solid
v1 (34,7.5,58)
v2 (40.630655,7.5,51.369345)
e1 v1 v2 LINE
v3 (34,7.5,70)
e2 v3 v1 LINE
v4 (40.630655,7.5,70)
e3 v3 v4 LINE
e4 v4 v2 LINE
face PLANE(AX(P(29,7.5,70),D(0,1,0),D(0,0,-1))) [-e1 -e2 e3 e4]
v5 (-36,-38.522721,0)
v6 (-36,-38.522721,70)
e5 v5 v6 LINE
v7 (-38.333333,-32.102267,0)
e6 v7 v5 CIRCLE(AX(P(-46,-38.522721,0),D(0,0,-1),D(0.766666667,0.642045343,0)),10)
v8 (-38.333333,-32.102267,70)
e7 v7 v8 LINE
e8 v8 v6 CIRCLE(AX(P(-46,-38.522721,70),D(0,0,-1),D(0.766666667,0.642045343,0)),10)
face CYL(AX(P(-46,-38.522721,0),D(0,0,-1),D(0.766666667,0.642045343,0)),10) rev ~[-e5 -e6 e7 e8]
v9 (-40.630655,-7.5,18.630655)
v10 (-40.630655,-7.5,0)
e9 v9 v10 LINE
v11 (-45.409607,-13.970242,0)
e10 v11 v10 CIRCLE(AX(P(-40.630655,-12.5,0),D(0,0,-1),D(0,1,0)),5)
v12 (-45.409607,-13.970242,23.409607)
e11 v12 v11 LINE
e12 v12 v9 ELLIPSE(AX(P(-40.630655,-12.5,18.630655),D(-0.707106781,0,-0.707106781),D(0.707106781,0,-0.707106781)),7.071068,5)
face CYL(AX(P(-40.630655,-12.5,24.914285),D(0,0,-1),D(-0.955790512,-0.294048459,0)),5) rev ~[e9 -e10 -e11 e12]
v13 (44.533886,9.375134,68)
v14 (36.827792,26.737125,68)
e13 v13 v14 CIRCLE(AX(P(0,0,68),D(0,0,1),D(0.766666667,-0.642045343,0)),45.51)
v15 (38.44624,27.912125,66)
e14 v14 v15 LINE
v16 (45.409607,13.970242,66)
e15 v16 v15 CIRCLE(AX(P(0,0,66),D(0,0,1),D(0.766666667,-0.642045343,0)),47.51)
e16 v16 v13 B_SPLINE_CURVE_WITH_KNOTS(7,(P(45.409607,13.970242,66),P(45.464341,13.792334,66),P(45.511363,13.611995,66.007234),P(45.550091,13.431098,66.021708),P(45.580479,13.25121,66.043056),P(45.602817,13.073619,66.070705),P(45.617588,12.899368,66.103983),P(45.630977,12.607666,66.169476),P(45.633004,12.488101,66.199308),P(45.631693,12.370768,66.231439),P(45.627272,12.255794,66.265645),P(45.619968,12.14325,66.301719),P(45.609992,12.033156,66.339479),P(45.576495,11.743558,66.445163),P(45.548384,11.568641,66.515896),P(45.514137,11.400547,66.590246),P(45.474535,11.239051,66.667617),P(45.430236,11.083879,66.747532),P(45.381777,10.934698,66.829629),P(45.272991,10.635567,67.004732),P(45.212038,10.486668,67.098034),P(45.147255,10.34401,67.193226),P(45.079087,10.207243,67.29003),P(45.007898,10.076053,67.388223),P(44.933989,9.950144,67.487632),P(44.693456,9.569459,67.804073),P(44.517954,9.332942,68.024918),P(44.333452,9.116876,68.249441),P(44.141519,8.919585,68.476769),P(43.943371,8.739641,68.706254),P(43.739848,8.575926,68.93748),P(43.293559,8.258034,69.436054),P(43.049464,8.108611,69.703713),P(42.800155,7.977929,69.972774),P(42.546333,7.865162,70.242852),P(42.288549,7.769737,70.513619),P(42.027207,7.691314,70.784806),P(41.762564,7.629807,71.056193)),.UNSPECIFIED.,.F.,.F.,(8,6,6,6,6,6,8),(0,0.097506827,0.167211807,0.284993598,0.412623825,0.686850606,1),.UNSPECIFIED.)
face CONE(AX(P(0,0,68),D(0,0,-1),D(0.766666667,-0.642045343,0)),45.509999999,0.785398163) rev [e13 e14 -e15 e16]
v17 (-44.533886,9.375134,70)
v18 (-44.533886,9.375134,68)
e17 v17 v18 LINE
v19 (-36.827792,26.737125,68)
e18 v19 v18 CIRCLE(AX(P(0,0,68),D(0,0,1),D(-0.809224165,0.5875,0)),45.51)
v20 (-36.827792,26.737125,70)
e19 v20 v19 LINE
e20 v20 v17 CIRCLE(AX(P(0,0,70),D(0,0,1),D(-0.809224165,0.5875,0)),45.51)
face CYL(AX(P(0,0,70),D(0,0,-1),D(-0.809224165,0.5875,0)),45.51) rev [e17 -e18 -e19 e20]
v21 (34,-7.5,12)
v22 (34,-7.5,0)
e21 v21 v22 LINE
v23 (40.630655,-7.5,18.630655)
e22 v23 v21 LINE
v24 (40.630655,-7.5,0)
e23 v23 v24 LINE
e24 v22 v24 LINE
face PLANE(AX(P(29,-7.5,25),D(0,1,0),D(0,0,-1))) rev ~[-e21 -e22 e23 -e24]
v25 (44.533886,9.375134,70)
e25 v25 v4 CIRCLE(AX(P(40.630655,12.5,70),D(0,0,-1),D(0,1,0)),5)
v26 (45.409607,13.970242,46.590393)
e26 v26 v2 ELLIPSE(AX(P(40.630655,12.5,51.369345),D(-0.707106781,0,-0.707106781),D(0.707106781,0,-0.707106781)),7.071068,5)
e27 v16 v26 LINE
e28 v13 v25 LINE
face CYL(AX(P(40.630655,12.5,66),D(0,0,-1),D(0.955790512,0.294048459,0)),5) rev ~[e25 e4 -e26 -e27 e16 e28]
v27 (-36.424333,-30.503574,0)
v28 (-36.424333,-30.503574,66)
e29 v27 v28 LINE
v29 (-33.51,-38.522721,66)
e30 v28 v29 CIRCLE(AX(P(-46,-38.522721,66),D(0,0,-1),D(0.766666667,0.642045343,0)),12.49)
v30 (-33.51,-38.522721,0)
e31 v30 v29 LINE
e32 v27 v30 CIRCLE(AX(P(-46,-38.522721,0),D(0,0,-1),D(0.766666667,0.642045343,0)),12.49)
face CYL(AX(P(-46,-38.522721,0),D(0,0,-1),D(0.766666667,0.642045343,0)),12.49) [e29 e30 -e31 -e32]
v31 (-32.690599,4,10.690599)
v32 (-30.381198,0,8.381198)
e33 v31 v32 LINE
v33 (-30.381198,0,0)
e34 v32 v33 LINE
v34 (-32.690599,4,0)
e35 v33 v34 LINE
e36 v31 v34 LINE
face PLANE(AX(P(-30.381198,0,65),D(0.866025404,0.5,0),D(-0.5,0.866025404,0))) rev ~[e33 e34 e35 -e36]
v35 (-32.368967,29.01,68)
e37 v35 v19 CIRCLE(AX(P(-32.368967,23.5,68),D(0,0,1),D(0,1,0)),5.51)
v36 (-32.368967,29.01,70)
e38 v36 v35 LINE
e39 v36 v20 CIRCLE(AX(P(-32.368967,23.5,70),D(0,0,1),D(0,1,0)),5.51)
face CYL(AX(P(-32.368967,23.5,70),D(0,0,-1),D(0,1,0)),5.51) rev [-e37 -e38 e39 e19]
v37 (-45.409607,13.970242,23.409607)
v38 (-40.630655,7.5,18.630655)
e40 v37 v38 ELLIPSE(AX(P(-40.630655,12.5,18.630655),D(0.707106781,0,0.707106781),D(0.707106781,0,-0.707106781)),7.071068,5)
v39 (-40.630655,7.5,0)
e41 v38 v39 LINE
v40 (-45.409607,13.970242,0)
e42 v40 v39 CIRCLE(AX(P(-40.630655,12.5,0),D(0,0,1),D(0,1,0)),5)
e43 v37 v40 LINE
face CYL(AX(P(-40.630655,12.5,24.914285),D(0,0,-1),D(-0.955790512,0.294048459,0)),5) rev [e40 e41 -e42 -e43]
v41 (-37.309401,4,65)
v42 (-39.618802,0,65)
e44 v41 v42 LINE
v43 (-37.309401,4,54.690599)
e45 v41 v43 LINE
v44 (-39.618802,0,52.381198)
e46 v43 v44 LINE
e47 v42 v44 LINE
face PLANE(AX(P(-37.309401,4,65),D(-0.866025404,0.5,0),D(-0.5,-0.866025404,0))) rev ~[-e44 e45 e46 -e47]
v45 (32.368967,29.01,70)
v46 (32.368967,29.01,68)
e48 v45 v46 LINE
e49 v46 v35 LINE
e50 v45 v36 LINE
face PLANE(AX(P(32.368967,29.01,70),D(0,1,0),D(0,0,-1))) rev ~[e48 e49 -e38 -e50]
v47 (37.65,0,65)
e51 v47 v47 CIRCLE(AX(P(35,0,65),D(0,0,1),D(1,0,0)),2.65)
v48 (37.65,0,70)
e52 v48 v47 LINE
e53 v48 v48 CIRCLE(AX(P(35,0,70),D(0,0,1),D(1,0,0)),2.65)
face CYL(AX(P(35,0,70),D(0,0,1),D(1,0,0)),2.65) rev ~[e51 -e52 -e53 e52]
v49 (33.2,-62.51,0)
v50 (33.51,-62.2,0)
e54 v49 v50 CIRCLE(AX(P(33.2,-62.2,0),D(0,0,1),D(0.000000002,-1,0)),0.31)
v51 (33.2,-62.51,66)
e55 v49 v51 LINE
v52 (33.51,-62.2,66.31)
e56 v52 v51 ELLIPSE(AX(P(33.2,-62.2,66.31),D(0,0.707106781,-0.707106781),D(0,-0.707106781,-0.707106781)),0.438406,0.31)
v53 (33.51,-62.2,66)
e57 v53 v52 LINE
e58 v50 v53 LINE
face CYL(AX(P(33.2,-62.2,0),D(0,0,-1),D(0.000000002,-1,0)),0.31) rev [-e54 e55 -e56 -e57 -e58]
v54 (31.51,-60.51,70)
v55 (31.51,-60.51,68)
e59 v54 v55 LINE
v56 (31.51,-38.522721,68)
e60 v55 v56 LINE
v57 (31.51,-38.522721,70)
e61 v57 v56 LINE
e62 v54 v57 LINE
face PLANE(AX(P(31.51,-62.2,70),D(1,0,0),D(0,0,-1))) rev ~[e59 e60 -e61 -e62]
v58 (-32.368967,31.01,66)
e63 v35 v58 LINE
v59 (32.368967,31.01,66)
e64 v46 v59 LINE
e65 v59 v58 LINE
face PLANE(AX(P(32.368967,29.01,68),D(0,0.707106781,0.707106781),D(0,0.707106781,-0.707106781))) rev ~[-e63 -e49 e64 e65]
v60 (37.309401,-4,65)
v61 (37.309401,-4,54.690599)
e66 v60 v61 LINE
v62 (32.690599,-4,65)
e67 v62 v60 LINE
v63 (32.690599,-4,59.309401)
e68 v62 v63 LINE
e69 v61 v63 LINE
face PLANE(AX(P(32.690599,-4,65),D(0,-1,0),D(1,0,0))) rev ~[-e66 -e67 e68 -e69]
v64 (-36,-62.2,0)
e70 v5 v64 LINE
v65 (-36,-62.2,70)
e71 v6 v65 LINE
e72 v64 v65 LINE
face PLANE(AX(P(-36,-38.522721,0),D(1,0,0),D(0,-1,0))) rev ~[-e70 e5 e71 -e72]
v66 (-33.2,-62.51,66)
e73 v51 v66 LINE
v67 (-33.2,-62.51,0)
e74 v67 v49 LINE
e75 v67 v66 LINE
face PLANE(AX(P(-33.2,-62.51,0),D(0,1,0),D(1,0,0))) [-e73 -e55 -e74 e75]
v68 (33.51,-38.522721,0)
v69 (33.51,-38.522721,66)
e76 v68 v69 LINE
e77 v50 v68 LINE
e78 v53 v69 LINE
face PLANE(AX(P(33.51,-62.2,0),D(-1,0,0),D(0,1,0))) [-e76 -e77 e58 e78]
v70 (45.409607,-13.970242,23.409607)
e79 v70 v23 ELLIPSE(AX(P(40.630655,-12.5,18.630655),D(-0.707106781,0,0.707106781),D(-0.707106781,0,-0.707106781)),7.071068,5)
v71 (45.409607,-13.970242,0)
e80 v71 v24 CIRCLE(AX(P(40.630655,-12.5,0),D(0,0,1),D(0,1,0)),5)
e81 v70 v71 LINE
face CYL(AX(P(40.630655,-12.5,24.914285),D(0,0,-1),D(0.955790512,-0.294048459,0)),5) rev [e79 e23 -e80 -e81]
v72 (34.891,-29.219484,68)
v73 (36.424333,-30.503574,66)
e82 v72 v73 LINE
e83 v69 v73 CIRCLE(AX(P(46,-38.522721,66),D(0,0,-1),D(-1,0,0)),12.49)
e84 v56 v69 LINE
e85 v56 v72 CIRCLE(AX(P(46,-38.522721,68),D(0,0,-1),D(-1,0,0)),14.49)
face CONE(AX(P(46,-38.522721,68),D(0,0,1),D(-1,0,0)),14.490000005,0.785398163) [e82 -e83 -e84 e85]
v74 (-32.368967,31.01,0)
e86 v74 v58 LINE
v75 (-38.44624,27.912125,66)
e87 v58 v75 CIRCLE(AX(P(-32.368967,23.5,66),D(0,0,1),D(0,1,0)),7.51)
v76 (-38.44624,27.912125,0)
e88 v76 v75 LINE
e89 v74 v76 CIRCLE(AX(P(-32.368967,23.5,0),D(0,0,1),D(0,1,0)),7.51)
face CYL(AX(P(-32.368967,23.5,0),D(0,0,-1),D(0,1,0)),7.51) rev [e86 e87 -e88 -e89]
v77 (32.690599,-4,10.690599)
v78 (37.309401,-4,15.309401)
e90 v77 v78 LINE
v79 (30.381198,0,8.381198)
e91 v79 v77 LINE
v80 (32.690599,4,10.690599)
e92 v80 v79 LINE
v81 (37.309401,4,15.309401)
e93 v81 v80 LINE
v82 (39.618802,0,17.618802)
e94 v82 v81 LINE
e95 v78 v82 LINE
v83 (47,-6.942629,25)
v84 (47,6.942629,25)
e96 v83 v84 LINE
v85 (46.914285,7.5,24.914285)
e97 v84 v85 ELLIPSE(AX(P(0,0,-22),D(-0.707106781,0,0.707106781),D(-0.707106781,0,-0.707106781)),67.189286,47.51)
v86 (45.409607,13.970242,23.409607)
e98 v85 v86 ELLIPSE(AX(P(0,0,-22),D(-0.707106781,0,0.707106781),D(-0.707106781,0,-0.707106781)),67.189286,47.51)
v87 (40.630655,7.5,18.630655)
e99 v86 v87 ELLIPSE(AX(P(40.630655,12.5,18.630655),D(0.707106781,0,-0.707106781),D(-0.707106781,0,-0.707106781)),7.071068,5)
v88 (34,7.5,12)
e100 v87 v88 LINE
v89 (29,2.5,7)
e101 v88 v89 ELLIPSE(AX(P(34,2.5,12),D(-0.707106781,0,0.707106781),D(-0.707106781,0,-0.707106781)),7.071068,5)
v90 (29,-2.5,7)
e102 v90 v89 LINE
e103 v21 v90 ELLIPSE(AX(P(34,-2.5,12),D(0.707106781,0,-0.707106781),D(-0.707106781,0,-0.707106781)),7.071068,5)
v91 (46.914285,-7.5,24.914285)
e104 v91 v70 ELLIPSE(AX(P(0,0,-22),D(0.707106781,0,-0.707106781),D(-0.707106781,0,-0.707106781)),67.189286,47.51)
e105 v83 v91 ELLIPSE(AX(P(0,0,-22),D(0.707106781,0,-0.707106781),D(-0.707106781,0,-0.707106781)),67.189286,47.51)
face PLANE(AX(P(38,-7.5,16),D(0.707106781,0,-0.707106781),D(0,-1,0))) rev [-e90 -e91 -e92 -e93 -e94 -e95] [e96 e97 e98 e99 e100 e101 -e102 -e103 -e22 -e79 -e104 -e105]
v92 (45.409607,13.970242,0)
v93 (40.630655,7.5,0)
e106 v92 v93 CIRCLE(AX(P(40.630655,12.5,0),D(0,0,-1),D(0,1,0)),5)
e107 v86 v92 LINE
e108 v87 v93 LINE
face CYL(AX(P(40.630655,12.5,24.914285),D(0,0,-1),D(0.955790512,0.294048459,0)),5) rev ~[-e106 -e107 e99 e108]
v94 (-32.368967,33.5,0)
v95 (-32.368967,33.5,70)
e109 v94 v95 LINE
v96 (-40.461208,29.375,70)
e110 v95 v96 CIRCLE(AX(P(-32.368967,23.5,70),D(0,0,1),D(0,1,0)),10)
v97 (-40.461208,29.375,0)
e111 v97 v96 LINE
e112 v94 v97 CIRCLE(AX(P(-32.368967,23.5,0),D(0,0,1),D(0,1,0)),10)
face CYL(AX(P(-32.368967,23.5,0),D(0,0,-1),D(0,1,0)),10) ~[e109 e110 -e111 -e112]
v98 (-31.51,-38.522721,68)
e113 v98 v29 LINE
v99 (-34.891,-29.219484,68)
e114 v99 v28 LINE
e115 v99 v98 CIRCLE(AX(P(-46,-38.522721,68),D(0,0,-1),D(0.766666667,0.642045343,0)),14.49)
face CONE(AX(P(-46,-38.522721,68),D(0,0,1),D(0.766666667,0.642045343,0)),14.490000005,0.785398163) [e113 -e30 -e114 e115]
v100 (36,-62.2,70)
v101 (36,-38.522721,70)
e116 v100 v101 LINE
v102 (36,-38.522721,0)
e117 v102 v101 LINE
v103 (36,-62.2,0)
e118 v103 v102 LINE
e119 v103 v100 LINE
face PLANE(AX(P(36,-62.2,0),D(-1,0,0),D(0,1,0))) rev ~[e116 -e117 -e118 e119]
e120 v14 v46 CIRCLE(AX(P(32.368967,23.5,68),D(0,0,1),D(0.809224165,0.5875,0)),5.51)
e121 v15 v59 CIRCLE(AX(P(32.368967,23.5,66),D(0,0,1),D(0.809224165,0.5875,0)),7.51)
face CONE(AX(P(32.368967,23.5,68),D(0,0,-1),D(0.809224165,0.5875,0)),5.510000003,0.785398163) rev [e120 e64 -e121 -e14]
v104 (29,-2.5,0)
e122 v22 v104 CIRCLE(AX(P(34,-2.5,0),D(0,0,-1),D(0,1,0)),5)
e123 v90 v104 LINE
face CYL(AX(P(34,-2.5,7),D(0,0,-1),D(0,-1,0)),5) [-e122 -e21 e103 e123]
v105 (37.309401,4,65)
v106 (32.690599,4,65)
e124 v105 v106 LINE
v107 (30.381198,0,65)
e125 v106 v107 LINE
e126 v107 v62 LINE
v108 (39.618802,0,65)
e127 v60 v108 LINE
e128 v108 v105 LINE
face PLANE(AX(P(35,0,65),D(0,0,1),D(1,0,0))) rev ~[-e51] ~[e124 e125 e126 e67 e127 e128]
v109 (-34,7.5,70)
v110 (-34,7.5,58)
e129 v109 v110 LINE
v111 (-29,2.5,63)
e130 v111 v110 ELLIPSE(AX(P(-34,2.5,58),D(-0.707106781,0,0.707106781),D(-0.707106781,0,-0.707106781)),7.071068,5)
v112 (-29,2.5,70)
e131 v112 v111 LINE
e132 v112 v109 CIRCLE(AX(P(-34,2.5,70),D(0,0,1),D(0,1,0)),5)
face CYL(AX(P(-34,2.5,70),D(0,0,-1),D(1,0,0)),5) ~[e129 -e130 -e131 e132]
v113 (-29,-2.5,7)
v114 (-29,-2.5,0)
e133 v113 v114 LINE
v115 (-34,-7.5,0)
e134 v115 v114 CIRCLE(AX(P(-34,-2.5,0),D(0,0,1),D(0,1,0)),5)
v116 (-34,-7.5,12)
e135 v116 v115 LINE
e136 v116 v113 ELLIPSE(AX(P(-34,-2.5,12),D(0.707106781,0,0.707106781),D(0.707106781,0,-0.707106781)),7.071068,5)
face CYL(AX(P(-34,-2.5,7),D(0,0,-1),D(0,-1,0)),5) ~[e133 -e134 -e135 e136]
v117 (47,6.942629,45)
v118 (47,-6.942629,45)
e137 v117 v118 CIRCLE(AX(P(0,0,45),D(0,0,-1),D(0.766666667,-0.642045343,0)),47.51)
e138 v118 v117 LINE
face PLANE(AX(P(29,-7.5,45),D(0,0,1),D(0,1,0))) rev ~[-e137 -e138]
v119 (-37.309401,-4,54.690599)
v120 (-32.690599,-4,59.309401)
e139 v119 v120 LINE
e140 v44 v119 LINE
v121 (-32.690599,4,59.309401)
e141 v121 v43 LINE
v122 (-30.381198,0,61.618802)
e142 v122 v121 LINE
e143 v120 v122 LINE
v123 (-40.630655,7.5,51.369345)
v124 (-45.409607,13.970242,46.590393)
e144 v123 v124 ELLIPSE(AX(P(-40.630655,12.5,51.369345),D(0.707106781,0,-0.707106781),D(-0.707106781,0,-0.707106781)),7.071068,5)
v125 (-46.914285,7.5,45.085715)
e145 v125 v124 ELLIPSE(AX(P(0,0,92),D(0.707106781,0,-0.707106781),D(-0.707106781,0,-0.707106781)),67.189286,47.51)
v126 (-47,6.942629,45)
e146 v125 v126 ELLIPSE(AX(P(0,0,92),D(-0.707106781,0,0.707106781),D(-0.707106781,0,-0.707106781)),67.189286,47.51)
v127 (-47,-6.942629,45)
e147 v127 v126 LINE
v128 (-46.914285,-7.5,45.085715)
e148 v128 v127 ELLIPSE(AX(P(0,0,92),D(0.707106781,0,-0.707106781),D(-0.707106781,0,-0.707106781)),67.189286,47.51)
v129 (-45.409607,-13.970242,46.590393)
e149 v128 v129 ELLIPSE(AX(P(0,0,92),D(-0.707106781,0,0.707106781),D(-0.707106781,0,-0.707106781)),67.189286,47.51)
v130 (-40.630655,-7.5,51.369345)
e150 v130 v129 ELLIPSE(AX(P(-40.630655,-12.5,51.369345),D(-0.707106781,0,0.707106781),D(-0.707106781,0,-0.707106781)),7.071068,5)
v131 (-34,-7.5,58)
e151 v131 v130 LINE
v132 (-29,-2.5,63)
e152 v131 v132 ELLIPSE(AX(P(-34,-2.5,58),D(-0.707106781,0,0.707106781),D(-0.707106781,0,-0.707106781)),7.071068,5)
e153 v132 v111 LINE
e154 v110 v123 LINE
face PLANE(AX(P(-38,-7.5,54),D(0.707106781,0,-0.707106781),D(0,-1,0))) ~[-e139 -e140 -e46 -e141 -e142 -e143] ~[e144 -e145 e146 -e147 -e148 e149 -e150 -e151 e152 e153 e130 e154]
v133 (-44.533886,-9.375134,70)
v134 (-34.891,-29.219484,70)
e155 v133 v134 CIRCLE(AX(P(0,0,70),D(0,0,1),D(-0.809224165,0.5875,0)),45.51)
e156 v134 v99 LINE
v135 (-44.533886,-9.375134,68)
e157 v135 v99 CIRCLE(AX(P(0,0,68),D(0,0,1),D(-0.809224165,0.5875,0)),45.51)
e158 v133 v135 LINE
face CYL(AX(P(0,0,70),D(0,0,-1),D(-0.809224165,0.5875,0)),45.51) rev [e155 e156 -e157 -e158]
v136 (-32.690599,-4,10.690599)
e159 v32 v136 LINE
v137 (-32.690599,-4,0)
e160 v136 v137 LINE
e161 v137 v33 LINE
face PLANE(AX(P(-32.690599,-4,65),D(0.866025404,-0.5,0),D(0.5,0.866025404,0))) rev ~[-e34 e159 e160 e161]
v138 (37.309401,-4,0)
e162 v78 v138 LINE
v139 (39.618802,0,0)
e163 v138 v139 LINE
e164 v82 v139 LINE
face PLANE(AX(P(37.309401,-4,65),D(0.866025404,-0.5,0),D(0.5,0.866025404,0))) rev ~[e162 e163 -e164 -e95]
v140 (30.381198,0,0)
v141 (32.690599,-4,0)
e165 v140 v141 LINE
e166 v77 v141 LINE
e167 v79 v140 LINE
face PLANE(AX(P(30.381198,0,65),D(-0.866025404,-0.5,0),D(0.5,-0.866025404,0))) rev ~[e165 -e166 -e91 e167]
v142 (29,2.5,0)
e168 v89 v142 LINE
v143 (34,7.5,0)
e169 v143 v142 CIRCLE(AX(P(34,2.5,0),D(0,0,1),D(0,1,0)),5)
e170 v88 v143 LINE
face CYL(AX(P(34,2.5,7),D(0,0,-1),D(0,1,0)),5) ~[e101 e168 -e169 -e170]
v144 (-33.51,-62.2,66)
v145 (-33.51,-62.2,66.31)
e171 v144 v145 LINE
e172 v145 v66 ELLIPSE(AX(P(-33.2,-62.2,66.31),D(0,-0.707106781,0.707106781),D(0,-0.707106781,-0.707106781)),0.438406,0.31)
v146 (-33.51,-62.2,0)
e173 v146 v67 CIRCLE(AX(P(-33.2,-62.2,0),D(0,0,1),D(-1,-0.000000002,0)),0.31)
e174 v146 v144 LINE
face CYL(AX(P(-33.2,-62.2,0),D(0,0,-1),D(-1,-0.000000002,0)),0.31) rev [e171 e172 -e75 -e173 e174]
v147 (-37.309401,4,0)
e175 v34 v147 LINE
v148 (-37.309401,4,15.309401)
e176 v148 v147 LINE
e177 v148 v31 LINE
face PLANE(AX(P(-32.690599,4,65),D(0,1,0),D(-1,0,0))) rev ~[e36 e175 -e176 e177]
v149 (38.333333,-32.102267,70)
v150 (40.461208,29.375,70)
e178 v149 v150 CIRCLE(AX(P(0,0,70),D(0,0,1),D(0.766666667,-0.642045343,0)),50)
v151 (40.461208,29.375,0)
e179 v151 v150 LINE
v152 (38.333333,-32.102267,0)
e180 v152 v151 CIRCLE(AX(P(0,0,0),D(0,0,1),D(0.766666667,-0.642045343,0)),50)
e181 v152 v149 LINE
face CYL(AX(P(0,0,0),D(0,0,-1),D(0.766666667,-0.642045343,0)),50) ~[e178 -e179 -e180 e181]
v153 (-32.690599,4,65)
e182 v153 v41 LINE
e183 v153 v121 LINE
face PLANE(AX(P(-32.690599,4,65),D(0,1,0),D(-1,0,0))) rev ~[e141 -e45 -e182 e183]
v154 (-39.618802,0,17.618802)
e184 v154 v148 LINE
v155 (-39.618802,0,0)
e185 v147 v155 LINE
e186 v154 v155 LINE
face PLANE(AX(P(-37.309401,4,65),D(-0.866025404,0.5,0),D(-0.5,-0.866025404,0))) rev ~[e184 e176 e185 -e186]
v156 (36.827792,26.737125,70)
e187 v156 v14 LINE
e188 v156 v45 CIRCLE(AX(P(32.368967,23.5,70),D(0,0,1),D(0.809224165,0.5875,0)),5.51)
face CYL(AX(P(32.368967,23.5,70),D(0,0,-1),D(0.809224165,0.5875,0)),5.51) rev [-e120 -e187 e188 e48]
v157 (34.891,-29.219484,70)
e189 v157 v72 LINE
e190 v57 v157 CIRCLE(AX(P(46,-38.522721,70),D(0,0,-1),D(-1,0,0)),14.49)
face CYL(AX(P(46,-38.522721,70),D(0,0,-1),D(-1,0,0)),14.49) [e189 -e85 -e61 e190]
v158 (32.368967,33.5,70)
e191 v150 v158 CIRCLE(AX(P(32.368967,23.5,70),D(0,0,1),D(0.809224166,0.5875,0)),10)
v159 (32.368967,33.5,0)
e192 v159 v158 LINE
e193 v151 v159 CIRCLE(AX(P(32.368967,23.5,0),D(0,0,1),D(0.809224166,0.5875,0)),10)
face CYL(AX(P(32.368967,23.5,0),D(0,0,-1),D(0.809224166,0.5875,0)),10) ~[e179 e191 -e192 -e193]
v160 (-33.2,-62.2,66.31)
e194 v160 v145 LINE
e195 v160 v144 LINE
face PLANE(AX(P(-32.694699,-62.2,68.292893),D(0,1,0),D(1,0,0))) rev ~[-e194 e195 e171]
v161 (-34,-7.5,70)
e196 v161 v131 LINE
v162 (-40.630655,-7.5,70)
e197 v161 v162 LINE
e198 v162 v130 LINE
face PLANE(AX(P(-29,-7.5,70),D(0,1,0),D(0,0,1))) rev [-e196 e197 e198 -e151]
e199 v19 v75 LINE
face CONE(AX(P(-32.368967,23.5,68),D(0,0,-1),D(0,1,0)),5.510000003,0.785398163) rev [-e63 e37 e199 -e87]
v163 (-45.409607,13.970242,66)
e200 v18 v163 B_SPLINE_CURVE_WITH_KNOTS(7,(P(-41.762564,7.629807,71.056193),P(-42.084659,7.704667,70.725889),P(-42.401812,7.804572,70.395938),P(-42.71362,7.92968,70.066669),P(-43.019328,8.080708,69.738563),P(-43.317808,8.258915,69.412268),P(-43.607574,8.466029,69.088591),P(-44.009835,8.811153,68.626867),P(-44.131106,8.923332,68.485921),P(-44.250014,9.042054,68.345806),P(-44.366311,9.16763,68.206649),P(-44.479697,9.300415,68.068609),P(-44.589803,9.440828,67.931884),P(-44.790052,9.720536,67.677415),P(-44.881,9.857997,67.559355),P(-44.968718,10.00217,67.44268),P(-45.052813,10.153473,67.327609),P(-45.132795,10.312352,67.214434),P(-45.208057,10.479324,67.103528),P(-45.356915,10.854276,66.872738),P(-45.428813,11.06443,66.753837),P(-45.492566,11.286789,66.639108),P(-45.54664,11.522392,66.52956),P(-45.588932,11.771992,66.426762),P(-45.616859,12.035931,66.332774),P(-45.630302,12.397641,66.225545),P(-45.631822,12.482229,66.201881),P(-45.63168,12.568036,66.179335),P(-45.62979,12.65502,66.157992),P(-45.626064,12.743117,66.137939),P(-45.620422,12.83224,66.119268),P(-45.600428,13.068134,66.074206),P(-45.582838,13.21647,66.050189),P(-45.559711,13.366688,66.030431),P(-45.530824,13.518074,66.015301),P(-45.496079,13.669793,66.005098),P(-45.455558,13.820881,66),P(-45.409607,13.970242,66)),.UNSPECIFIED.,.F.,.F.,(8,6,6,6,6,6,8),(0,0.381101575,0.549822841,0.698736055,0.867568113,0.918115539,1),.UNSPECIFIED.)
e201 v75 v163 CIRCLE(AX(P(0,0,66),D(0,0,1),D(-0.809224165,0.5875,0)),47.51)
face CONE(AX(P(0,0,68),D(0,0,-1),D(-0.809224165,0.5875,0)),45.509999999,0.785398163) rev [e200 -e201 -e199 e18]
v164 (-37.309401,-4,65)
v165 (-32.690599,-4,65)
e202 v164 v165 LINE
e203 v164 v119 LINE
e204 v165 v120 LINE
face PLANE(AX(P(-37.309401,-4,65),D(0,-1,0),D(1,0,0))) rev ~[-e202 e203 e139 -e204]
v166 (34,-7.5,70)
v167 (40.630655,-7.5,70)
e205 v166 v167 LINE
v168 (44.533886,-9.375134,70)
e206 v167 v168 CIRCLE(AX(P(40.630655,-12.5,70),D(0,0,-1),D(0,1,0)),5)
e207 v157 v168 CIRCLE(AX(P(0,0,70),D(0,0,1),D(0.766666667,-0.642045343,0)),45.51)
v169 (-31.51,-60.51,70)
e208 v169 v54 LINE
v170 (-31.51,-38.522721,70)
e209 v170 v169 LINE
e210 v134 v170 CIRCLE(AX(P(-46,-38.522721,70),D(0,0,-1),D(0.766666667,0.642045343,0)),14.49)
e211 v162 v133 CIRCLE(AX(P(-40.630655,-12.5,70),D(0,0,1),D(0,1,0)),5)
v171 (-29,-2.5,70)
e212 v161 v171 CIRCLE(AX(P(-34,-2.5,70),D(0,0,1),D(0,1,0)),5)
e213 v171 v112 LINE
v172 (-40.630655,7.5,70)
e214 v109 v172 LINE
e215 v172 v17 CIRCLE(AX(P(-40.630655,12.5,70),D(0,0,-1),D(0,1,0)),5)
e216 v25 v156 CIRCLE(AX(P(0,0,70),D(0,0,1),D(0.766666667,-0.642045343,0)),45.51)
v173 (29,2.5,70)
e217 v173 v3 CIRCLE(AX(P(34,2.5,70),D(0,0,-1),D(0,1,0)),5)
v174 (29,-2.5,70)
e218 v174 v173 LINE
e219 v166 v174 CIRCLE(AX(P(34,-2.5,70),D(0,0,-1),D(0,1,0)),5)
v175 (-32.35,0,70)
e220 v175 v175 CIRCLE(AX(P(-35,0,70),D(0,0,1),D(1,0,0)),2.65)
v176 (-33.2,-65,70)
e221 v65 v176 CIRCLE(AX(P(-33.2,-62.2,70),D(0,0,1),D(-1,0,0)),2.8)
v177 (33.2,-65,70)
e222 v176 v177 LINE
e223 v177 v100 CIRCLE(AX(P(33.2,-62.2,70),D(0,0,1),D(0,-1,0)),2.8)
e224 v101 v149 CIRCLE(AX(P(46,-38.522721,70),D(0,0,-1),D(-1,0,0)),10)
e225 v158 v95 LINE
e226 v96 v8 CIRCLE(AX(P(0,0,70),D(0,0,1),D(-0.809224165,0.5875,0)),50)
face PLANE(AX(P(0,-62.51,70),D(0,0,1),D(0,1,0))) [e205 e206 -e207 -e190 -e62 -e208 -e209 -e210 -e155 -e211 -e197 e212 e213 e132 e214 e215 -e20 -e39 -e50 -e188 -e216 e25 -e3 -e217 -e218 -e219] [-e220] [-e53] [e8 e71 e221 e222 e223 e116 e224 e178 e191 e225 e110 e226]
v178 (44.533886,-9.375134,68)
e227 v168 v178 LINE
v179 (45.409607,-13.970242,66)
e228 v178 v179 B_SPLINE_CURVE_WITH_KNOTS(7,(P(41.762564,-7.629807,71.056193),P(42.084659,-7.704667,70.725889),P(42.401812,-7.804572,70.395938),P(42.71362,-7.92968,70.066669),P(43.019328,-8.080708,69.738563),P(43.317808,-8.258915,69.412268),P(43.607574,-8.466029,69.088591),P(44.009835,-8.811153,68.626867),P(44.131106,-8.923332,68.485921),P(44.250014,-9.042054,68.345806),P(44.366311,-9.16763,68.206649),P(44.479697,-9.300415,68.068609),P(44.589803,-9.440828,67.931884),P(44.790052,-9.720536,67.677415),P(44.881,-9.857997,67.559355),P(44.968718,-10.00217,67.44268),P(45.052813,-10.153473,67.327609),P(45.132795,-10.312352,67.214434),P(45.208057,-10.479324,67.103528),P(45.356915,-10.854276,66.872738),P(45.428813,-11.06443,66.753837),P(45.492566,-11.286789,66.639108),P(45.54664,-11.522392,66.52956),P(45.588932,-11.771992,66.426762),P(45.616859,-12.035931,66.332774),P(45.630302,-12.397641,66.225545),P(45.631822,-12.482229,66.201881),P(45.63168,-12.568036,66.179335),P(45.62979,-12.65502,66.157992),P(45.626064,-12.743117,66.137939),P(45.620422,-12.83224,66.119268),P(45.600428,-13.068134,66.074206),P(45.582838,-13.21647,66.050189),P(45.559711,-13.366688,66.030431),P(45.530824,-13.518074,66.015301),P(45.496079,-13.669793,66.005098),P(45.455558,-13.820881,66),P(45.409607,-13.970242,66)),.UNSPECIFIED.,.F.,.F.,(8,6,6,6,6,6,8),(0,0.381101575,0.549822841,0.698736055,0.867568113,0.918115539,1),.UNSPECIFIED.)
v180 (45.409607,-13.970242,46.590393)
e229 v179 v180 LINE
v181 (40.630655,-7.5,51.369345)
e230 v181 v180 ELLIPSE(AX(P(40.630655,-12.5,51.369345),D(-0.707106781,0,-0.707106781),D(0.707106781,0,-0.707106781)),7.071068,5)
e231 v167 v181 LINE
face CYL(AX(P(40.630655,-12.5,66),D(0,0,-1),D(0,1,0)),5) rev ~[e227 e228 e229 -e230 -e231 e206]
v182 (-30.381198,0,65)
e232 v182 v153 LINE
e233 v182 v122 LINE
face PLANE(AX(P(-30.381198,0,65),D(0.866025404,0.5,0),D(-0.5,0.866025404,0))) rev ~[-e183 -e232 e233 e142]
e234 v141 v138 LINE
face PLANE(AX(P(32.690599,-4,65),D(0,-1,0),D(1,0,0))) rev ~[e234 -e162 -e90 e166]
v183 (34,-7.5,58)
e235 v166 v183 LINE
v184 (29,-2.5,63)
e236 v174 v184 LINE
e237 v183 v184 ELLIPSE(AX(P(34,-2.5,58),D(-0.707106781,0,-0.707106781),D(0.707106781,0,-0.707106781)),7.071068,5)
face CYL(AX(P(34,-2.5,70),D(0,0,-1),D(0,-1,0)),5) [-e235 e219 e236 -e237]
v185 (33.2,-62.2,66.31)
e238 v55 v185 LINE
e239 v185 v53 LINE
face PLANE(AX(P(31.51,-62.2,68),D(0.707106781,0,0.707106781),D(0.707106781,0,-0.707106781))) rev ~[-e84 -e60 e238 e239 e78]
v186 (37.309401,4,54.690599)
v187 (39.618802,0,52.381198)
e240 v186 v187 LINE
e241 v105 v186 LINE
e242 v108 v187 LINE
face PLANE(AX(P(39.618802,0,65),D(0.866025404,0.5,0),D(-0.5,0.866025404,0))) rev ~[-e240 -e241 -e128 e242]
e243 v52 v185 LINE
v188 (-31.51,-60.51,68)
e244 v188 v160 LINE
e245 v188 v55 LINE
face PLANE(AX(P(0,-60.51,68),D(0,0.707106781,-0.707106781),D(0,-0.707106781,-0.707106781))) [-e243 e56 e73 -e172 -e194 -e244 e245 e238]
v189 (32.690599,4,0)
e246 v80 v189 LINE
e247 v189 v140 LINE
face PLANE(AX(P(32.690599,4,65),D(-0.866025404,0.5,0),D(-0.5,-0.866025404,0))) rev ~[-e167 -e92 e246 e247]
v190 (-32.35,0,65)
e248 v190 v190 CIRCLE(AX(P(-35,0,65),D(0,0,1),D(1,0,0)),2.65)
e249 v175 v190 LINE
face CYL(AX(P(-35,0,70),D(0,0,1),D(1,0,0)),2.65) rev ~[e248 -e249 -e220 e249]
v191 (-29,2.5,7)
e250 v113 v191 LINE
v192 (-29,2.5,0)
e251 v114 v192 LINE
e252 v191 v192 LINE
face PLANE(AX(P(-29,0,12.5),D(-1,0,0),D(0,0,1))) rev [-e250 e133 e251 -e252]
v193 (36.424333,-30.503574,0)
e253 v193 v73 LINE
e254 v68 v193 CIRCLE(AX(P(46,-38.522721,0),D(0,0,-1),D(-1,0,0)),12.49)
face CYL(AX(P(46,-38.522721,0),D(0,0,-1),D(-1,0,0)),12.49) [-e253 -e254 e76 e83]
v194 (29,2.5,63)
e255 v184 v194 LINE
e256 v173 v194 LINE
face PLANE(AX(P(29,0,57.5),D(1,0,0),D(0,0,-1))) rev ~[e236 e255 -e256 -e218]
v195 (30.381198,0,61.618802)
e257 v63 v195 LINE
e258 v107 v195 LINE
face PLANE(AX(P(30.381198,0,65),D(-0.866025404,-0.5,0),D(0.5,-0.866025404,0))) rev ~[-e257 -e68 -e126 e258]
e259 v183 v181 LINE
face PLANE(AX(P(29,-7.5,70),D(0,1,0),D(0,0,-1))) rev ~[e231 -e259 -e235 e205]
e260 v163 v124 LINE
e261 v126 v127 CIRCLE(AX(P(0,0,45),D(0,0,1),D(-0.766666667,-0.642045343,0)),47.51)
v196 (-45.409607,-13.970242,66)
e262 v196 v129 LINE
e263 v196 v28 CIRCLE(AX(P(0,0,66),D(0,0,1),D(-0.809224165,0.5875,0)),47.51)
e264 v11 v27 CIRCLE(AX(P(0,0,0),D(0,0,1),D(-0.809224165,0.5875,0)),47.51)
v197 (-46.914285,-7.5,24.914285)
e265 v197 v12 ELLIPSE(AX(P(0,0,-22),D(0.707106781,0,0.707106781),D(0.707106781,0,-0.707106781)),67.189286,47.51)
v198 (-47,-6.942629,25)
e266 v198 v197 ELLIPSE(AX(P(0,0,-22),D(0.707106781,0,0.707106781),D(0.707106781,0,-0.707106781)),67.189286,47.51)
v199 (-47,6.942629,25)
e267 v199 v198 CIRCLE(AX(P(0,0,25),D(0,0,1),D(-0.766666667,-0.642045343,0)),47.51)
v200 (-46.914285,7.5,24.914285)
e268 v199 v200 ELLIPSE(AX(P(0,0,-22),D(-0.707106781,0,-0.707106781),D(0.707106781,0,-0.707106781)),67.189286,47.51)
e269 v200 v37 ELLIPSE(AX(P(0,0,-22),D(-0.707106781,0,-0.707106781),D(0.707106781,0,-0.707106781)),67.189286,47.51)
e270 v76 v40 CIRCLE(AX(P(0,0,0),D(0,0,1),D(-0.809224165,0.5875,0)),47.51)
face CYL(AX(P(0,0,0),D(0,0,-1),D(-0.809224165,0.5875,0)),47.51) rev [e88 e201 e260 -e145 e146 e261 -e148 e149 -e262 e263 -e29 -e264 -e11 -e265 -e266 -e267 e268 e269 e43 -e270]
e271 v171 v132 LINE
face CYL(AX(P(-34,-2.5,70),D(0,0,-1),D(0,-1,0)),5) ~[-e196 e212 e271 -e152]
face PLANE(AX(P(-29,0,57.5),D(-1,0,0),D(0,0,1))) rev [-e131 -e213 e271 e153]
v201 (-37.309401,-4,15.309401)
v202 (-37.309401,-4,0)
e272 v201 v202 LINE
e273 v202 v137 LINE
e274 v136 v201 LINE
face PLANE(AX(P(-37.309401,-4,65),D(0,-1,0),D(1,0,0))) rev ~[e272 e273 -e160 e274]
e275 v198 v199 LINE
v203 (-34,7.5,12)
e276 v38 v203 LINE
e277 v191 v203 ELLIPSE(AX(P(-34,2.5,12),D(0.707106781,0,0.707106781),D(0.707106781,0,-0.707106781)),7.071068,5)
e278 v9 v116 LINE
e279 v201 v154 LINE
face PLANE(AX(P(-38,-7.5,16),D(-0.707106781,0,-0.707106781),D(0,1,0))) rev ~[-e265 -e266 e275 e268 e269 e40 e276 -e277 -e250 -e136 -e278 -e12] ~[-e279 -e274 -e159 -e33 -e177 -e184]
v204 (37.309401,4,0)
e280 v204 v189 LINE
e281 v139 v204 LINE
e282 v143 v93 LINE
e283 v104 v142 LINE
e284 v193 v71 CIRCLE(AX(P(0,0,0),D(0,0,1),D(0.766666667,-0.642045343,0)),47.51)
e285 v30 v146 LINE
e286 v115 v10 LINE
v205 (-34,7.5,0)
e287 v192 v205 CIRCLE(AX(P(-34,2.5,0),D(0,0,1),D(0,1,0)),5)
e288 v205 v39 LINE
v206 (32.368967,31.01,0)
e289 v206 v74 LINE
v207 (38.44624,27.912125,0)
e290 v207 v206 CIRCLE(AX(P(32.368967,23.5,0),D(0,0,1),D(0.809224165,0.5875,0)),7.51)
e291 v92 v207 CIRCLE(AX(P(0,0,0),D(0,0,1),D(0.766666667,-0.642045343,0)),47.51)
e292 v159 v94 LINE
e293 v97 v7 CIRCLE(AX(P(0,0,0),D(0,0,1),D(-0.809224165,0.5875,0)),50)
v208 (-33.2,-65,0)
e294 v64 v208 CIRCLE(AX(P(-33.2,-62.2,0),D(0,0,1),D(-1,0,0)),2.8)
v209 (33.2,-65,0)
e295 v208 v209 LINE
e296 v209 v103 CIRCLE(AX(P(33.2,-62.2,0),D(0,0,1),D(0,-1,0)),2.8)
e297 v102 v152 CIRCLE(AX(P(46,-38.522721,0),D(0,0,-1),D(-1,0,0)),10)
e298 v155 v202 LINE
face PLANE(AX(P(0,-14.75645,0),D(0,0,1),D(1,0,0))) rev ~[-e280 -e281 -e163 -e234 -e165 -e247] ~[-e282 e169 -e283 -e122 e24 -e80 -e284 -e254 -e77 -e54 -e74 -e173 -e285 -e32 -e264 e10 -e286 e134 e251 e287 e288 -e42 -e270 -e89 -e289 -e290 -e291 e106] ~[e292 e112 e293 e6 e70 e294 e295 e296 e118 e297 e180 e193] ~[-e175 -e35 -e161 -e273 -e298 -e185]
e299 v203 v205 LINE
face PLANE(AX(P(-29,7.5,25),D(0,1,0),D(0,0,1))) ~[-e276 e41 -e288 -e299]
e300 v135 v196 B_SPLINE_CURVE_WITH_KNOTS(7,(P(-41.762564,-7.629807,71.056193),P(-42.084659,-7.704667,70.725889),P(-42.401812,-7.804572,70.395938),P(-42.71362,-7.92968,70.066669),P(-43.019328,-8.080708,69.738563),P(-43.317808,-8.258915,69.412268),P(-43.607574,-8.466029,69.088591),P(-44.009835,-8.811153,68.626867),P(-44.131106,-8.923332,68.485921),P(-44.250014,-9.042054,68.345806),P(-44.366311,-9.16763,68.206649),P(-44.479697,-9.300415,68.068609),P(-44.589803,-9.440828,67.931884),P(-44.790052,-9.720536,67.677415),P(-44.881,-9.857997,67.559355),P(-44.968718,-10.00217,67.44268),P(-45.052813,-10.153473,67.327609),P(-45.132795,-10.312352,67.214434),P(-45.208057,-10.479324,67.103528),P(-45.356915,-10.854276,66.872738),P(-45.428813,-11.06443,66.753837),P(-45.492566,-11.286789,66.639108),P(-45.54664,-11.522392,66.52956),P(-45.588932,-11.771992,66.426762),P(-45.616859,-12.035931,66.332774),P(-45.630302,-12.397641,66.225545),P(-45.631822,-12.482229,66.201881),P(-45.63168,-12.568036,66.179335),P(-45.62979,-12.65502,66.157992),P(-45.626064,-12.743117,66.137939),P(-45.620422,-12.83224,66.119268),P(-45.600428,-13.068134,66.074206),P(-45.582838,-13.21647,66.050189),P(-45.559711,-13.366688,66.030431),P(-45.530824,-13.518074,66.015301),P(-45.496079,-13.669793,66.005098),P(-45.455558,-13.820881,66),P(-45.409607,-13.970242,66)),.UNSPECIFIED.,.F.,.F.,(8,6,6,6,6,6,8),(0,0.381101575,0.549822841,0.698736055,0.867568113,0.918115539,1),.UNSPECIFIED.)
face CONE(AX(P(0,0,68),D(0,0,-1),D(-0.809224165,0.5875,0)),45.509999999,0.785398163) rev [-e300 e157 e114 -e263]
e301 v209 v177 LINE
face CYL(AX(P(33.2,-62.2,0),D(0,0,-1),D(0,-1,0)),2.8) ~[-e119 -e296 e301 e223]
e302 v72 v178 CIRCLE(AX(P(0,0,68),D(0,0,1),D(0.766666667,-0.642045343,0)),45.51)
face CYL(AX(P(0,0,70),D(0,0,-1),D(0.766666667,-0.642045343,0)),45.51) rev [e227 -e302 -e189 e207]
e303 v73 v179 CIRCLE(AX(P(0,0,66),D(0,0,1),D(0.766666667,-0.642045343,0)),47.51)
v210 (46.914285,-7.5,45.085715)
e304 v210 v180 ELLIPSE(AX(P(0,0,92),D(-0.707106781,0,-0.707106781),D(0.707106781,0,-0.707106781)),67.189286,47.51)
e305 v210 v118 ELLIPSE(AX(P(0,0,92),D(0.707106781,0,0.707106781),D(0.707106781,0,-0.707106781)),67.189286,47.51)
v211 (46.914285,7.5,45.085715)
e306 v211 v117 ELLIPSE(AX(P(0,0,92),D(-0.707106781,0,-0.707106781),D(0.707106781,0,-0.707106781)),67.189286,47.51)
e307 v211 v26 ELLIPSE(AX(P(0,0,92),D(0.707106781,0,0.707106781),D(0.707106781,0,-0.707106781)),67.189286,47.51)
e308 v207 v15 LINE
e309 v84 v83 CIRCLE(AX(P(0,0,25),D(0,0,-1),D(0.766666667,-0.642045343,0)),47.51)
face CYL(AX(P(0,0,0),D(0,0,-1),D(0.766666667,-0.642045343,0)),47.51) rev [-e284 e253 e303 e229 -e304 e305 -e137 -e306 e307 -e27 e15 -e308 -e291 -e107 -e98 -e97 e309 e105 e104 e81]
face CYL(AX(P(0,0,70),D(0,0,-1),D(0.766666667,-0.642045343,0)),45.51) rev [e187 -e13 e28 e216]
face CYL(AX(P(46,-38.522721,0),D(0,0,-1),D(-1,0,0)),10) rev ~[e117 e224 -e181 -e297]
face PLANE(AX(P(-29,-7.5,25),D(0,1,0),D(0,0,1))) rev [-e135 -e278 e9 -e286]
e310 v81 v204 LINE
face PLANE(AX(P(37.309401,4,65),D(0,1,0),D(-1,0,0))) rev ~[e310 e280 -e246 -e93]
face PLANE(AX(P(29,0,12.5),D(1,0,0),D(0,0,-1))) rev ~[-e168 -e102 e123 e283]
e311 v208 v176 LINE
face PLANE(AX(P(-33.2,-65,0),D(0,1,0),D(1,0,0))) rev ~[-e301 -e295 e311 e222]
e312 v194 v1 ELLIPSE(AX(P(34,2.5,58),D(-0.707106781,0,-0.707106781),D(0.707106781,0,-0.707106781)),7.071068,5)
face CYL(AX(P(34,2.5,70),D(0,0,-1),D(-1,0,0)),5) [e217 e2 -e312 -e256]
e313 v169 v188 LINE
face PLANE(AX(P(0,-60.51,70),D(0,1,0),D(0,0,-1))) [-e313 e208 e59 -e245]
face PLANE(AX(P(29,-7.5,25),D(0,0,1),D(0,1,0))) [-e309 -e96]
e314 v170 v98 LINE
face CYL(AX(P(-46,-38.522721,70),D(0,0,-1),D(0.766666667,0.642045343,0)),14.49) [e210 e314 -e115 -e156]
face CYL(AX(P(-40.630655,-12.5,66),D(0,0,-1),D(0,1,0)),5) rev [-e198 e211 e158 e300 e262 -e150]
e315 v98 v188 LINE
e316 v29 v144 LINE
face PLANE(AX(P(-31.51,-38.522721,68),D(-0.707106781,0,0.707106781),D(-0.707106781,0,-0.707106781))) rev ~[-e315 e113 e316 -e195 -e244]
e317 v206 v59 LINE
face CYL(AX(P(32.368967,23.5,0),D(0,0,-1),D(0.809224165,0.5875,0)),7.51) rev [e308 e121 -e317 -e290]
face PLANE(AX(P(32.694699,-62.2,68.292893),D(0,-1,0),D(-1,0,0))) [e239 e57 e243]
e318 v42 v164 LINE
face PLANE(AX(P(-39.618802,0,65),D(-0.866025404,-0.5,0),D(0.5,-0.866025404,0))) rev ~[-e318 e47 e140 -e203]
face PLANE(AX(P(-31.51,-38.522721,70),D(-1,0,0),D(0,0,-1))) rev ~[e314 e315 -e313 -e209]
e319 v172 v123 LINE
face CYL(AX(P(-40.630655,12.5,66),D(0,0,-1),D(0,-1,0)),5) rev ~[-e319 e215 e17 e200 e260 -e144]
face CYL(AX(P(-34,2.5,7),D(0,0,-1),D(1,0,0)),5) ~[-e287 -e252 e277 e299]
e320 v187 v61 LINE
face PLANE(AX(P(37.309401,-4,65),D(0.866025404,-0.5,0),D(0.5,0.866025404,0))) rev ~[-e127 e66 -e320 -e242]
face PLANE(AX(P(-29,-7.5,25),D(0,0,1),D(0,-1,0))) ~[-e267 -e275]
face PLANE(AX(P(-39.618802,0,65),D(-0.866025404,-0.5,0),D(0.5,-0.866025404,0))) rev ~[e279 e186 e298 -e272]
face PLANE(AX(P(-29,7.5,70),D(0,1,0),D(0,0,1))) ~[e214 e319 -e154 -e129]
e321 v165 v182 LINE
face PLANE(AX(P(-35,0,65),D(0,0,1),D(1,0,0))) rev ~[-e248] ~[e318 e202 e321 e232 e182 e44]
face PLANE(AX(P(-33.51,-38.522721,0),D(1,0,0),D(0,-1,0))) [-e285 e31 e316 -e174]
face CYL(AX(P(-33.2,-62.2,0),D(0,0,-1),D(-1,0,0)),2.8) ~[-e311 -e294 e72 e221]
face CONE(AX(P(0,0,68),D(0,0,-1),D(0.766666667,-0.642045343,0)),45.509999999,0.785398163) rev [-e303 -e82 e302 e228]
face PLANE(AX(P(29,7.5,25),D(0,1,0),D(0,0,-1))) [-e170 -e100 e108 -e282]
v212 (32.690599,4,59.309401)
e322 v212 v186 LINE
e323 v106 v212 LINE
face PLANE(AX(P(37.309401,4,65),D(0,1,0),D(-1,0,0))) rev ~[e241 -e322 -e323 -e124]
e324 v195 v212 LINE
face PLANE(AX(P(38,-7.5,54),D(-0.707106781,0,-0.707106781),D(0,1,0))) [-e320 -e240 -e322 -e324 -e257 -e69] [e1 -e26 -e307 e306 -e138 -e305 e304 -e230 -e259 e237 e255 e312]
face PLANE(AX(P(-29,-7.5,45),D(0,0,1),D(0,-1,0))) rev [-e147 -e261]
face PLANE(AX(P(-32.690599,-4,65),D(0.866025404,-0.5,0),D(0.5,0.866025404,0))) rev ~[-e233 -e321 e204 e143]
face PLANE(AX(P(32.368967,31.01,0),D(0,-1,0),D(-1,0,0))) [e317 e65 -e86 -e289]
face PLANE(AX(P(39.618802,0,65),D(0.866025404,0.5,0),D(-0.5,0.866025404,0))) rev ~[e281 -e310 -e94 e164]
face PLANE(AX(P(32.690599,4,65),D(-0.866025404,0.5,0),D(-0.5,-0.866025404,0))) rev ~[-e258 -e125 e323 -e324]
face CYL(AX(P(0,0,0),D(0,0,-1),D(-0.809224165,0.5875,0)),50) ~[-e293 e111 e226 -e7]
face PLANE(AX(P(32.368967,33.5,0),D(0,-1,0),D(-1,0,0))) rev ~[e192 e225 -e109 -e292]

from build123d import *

# Parameters (mm, degrees)
LINEAR_AUSTRAGEN_D_NN1_DEPTH                = 70
AUFSATZ_LINEAR_AUSTRAGEN3_REACH             = 138.819
AUFSATZ_LINEAR_START                        = 29
SKIZZE6_W                                   = 25
SKIZZE6_H                                   = 15
FASE1_SIZE                                  = 18
SKIZZE7_R                                   = 2.65
SCHNITT_LINEAR_AUSTRAGEN3_DEPTH             = 108.819293264
SCHNITT_LINEAR_START                        = -5
SCHNITT_LINEAR_AUSTRAGEN5_DEPTH             = 90
VERRUNDUNG1_R                               = 5
AUFSATZ_LINEAR_AUSTRAGEN5_REACH             = 109.819
AUFSATZ_LINEAR_AUSTRAGEN5_DIRECTION_2_REACH = 109.819


with BuildPart() as part:
    # Skizze1 → Linear-Austragen-Dünn1 (new body)
    with BuildSketch(Plane.XY):
        with BuildLine():
            Line((-33.2, -65), (0, -65))
            Line((0, -65), (33.2, -65))
            ThreePointArc((33.2, -65), (35.179898987, -64.179898987), (36, -62.2))
            Line((36, -62.2), (36, -38.522720569))
            ThreePointArc((36, -38.522720569), (36.601418547, -35.107070313), (38.333333333, -32.10226714))
            ThreePointArc((38.333333333, -32.10226714), (49.970076451, -1.729583607), (40.461208274, 29.375))
            ThreePointArc((40.461208274, 29.375), (36.91044215, 32.409264841), (32.368966619, 33.5))
            Line((32.368966619, 33.5), (0, 33.5))
            Line((0, 33.5), (-32.368966619, 33.5))
            ThreePointArc((-32.368966619, 33.5), (-36.91044215, 32.409264841), (-40.461208274, 29.375))
            ThreePointArc((-40.461208274, 29.375), (-49.970076451, -1.729583607), (-38.333333333, -32.10226714))
            ThreePointArc((-38.333333333, -32.10226714), (-36.601418547, -35.107070313), (-36, -38.522720569))
            Line((-36, -38.522720569), (-36, -62.2))
            ThreePointArc((-36, -62.2), (-35.179898987, -64.179898987), (-33.2, -65))
        make_face()
        with BuildLine():
            Line((-33.2, -62.51), (0, -62.51))
            Line((0, -62.51), (33.2, -62.51))
            ThreePointArc((33.2, -62.51), (33.419203102, -62.419203102), (33.51, -62.2))
            Line((33.51, -62.2), (33.51, -38.522720569))
            ThreePointArc((33.51, -38.522720569), (34.261171765, -34.2565734), (36.424333333, -30.503574237))
            ThreePointArc((36.424333333, -30.503574237), (47.481566644, -1.643450344), (38.446240102, 27.912125))
            ThreePointArc((38.446240102, 27.912125), (35.779614743, 30.190857895), (32.368966619, 31.01))
            Line((32.368966619, 31.01), (0, 31.01))
            Line((0, 31.01), (-32.368966619, 31.01))
            ThreePointArc((-32.368966619, 31.01), (-35.779614743, 30.190857895), (-38.446240102, 27.912125))
            ThreePointArc((-38.446240102, 27.912125), (-47.481566644, -1.643450344), (-36.424333333, -30.503574237))
            ThreePointArc((-36.424333333, -30.503574237), (-34.261171765, -34.2565734), (-33.51, -38.522720569))
            Line((-33.51, -38.522720569), (-33.51, -62.2))
            ThreePointArc((-33.51, -62.2), (-33.419203102, -62.419203102), (-33.2, -62.51))
        make_face(mode=Mode.SUBTRACT)
    extrude(amount=LINEAR_AUSTRAGEN_D_NN1_DEPTH)

    # Austragung2: sweep along a path in Skizze16
    with BuildLine(Plane.XY.offset(70)) as austragung2_path:
        Line((33.51, -62.2), (33.51, -38.522720569))
        ThreePointArc((33.51, -38.522720569), (34.261171765, -34.2565734), (36.424333333, -30.503574237))
        ThreePointArc((36.424333333, -30.503574237), (47.481566644, -1.643450344), (38.446240102, 27.912125))
        ThreePointArc((38.446240102, 27.912125), (35.779614743, 30.190857895), (32.368966619, 31.01))
        Line((32.368966619, 31.01), (-32.368966619, 31.01))
        ThreePointArc((-32.368966619, 31.01), (-35.779614743, 30.190857895), (-38.446240102, 27.912125))
        ThreePointArc((-38.446240102, 27.912125), (-47.481566644, -1.643450344), (-36.424333333, -30.503574237))
        ThreePointArc((-36.424333333, -30.503574237), (-34.261171765, -34.2565734), (-33.51, -38.522720569))
        Line((-33.51, -38.522720569), (-33.51, -62.2))
    # Skizze17 → Austragung2 (sweep)
    with BuildSketch(Plane(origin=(0, 0, 0), x_dir=(0, 0, -1), z_dir=(1, 0, 0))):
        Polygon((-70, 31.01), (-70, 29.01), (-68, 29.01), (-66, 31.01), align=None)
    sweep(path=austragung2_path.line)

    # Skizze6 → Aufsatz-Linear austragen3 (add, up to next)
    with BuildSketch(Plane(origin=(0, 0, 0), x_dir=(0, 0, -1), z_dir=(1, 0, 0)).offset(AUFSATZ_LINEAR_START), mode=Mode.PRIVATE) as aufsatz_linear_austragen3_sk1:
        with Locations((-57.5, 0)):
            Rectangle(SKIZZE6_W, SKIZZE6_H)
    aufsatz_linear_austragen3_tool1 = extrude(aufsatz_linear_austragen3_sk1.sketch, amount=AUFSATZ_LINEAR_AUSTRAGEN3_REACH, mode=Mode.PRIVATE) - part.part
    # Skizze6 → Aufsatz-Linear austragen3 (add, up to next)
    with BuildSketch(Plane(origin=(0, 0, 0), x_dir=(0, 0, -1), z_dir=(1, 0, 0)).offset(AUFSATZ_LINEAR_START), mode=Mode.PRIVATE) as aufsatz_linear_austragen3_sk2:
        with Locations((-12.5, 0)):
            Rectangle(SKIZZE6_W, SKIZZE6_H)
    aufsatz_linear_austragen3_tool2 = extrude(aufsatz_linear_austragen3_sk2.sketch, amount=AUFSATZ_LINEAR_AUSTRAGEN3_REACH, mode=Mode.PRIVATE) - part.part
    aufsatz_linear_austragen3_1 = aufsatz_linear_austragen3_tool1.solids().sort_by_distance((29, 0, 57.5))[0]
    add(aufsatz_linear_austragen3_1)
    aufsatz_linear_austragen3_2 = aufsatz_linear_austragen3_tool2.solids().sort_by_distance((29, 0, 12.5))[0]
    add(aufsatz_linear_austragen3_2)
    aufsatz_linear_austragen3 = aufsatz_linear_austragen3_1 + aufsatz_linear_austragen3_2  # Aufsatz-Linear austragen3 as one shape, for the pattern or mirror that repeats it

    # Spiegeln1: Aufsatz-Linear austragen3 across plane
    add(aufsatz_linear_austragen3.mirror(Plane(origin=(0, 0, 0), x_dir=(0, 0, 1), z_dir=(1, 0, 0))))

    # Fase1
    fase1_edges = [part.edges().sort_by_distance(p)[0] for p in [
        (29, 0, 45),
        (-29, 0, 45),
        (29, 0, 25),
        (-29, 0, 25),
    ]]
    chamfer(fase1_edges, length=FASE1_SIZE)

    # Skizze7 → Schnitt-Linear austragen3 (cut, through all)
    with BuildSketch(Plane.XY.offset(70)):
        with Locations((-35, 0)):
            Circle(SKIZZE7_R)
        with Locations((35, 0)):
            Circle(SKIZZE7_R)
    extrude(amount=-SCHNITT_LINEAR_AUSTRAGEN3_DEPTH, mode=Mode.SUBTRACT)

    # Skizze9 → Schnitt-Linear austragen5 (cut)
    with BuildSketch(Plane.XY.offset(70).offset(SCHNITT_LINEAR_START)):
        Polygon((-39.618802154, 0), (-37.309401077, -4), (-32.690598923, -4), (-30.381197846, 0), (-32.690598923, 4), (-37.309401077, 4), align=None)
        Polygon((30.381197846, 0), (32.690598923, -4), (37.309401077, -4), (39.618802154, 0), (37.309401077, 4), (32.690598923, 4), align=None)
    extrude(amount=-SCHNITT_LINEAR_AUSTRAGEN5_DEPTH, mode=Mode.SUBTRACT)

    # Verrundung1
    verrundung1_edges = [part.edges().sort_by_distance(p)[0] for p in [
        (-46.914284605, 7.5, 55.542857697),
        (-29, 7.5, 66.5),
        (-29, -7.5, 66.5),
        (-46.914284605, -7.5, 55.542857697),
        (46.914284605, -7.5, 55.542857697),
        (29, -7.5, 66.5),
        (29, 7.5, 66.5),
        (46.914284605, 7.5, 55.542857697),
        (-46.914284605, -7.5, 12.457142303),
        (-29, -7.5, 3.5),
        (-29, 7.5, 3.5),
        (-46.914284605, 7.5, 12.457142303),
        (46.914284605, -7.5, 12.457142303),
        (29, -7.5, 3.5),
        (29, 7.5, 3.5),
        (46.914284605, 7.5, 12.457142303),
    ]]
    fillet(verrundung1_edges, radius=VERRUNDUNG1_R)

    # Skizze17<3> → Aufsatz-Linear austragen5 (add, up to next)
    with BuildSketch(Plane(origin=(0, 0, 0), x_dir=(0, 0, -1), z_dir=(1, 0, 0)), mode=Mode.PRIVATE) as aufsatz_linear_austragen5_sk1:
        Polygon((-68, -60.51), (-66, -62.51), (-70, -62.51), (-70, -60.51), align=None)
    aufsatz_linear_austragen5_tool1 = extrude(aufsatz_linear_austragen5_sk1.sketch, amount=-AUFSATZ_LINEAR_AUSTRAGEN5_REACH, mode=Mode.PRIVATE) - part.part
    add(aufsatz_linear_austragen5_tool1.solids().sort_by_distance((0, -61.621111, 68.444444))[0])

    # Skizze17<3> → Aufsatz-Linear austragen5 direction 2 (add, up to next)
    with BuildSketch(Plane(origin=(0, 0, 0), x_dir=(0, 0, -1), z_dir=(1, 0, 0)), mode=Mode.PRIVATE) as aufsatz_linear_austragen5_direction_2_sk1:
        Polygon((-68, -60.51), (-66, -62.51), (-70, -62.51), (-70, -60.51), align=None)
    aufsatz_linear_austragen5_direction_2_tool1 = extrude(aufsatz_linear_austragen5_direction_2_sk1.sketch, amount=AUFSATZ_LINEAR_AUSTRAGEN5_DIRECTION_2_REACH, mode=Mode.PRIVATE) - part.part
    add(aufsatz_linear_austragen5_direction_2_tool1.solids().sort_by_distance((0, -61.621111, 68.444444))[0])


solid = part.part
